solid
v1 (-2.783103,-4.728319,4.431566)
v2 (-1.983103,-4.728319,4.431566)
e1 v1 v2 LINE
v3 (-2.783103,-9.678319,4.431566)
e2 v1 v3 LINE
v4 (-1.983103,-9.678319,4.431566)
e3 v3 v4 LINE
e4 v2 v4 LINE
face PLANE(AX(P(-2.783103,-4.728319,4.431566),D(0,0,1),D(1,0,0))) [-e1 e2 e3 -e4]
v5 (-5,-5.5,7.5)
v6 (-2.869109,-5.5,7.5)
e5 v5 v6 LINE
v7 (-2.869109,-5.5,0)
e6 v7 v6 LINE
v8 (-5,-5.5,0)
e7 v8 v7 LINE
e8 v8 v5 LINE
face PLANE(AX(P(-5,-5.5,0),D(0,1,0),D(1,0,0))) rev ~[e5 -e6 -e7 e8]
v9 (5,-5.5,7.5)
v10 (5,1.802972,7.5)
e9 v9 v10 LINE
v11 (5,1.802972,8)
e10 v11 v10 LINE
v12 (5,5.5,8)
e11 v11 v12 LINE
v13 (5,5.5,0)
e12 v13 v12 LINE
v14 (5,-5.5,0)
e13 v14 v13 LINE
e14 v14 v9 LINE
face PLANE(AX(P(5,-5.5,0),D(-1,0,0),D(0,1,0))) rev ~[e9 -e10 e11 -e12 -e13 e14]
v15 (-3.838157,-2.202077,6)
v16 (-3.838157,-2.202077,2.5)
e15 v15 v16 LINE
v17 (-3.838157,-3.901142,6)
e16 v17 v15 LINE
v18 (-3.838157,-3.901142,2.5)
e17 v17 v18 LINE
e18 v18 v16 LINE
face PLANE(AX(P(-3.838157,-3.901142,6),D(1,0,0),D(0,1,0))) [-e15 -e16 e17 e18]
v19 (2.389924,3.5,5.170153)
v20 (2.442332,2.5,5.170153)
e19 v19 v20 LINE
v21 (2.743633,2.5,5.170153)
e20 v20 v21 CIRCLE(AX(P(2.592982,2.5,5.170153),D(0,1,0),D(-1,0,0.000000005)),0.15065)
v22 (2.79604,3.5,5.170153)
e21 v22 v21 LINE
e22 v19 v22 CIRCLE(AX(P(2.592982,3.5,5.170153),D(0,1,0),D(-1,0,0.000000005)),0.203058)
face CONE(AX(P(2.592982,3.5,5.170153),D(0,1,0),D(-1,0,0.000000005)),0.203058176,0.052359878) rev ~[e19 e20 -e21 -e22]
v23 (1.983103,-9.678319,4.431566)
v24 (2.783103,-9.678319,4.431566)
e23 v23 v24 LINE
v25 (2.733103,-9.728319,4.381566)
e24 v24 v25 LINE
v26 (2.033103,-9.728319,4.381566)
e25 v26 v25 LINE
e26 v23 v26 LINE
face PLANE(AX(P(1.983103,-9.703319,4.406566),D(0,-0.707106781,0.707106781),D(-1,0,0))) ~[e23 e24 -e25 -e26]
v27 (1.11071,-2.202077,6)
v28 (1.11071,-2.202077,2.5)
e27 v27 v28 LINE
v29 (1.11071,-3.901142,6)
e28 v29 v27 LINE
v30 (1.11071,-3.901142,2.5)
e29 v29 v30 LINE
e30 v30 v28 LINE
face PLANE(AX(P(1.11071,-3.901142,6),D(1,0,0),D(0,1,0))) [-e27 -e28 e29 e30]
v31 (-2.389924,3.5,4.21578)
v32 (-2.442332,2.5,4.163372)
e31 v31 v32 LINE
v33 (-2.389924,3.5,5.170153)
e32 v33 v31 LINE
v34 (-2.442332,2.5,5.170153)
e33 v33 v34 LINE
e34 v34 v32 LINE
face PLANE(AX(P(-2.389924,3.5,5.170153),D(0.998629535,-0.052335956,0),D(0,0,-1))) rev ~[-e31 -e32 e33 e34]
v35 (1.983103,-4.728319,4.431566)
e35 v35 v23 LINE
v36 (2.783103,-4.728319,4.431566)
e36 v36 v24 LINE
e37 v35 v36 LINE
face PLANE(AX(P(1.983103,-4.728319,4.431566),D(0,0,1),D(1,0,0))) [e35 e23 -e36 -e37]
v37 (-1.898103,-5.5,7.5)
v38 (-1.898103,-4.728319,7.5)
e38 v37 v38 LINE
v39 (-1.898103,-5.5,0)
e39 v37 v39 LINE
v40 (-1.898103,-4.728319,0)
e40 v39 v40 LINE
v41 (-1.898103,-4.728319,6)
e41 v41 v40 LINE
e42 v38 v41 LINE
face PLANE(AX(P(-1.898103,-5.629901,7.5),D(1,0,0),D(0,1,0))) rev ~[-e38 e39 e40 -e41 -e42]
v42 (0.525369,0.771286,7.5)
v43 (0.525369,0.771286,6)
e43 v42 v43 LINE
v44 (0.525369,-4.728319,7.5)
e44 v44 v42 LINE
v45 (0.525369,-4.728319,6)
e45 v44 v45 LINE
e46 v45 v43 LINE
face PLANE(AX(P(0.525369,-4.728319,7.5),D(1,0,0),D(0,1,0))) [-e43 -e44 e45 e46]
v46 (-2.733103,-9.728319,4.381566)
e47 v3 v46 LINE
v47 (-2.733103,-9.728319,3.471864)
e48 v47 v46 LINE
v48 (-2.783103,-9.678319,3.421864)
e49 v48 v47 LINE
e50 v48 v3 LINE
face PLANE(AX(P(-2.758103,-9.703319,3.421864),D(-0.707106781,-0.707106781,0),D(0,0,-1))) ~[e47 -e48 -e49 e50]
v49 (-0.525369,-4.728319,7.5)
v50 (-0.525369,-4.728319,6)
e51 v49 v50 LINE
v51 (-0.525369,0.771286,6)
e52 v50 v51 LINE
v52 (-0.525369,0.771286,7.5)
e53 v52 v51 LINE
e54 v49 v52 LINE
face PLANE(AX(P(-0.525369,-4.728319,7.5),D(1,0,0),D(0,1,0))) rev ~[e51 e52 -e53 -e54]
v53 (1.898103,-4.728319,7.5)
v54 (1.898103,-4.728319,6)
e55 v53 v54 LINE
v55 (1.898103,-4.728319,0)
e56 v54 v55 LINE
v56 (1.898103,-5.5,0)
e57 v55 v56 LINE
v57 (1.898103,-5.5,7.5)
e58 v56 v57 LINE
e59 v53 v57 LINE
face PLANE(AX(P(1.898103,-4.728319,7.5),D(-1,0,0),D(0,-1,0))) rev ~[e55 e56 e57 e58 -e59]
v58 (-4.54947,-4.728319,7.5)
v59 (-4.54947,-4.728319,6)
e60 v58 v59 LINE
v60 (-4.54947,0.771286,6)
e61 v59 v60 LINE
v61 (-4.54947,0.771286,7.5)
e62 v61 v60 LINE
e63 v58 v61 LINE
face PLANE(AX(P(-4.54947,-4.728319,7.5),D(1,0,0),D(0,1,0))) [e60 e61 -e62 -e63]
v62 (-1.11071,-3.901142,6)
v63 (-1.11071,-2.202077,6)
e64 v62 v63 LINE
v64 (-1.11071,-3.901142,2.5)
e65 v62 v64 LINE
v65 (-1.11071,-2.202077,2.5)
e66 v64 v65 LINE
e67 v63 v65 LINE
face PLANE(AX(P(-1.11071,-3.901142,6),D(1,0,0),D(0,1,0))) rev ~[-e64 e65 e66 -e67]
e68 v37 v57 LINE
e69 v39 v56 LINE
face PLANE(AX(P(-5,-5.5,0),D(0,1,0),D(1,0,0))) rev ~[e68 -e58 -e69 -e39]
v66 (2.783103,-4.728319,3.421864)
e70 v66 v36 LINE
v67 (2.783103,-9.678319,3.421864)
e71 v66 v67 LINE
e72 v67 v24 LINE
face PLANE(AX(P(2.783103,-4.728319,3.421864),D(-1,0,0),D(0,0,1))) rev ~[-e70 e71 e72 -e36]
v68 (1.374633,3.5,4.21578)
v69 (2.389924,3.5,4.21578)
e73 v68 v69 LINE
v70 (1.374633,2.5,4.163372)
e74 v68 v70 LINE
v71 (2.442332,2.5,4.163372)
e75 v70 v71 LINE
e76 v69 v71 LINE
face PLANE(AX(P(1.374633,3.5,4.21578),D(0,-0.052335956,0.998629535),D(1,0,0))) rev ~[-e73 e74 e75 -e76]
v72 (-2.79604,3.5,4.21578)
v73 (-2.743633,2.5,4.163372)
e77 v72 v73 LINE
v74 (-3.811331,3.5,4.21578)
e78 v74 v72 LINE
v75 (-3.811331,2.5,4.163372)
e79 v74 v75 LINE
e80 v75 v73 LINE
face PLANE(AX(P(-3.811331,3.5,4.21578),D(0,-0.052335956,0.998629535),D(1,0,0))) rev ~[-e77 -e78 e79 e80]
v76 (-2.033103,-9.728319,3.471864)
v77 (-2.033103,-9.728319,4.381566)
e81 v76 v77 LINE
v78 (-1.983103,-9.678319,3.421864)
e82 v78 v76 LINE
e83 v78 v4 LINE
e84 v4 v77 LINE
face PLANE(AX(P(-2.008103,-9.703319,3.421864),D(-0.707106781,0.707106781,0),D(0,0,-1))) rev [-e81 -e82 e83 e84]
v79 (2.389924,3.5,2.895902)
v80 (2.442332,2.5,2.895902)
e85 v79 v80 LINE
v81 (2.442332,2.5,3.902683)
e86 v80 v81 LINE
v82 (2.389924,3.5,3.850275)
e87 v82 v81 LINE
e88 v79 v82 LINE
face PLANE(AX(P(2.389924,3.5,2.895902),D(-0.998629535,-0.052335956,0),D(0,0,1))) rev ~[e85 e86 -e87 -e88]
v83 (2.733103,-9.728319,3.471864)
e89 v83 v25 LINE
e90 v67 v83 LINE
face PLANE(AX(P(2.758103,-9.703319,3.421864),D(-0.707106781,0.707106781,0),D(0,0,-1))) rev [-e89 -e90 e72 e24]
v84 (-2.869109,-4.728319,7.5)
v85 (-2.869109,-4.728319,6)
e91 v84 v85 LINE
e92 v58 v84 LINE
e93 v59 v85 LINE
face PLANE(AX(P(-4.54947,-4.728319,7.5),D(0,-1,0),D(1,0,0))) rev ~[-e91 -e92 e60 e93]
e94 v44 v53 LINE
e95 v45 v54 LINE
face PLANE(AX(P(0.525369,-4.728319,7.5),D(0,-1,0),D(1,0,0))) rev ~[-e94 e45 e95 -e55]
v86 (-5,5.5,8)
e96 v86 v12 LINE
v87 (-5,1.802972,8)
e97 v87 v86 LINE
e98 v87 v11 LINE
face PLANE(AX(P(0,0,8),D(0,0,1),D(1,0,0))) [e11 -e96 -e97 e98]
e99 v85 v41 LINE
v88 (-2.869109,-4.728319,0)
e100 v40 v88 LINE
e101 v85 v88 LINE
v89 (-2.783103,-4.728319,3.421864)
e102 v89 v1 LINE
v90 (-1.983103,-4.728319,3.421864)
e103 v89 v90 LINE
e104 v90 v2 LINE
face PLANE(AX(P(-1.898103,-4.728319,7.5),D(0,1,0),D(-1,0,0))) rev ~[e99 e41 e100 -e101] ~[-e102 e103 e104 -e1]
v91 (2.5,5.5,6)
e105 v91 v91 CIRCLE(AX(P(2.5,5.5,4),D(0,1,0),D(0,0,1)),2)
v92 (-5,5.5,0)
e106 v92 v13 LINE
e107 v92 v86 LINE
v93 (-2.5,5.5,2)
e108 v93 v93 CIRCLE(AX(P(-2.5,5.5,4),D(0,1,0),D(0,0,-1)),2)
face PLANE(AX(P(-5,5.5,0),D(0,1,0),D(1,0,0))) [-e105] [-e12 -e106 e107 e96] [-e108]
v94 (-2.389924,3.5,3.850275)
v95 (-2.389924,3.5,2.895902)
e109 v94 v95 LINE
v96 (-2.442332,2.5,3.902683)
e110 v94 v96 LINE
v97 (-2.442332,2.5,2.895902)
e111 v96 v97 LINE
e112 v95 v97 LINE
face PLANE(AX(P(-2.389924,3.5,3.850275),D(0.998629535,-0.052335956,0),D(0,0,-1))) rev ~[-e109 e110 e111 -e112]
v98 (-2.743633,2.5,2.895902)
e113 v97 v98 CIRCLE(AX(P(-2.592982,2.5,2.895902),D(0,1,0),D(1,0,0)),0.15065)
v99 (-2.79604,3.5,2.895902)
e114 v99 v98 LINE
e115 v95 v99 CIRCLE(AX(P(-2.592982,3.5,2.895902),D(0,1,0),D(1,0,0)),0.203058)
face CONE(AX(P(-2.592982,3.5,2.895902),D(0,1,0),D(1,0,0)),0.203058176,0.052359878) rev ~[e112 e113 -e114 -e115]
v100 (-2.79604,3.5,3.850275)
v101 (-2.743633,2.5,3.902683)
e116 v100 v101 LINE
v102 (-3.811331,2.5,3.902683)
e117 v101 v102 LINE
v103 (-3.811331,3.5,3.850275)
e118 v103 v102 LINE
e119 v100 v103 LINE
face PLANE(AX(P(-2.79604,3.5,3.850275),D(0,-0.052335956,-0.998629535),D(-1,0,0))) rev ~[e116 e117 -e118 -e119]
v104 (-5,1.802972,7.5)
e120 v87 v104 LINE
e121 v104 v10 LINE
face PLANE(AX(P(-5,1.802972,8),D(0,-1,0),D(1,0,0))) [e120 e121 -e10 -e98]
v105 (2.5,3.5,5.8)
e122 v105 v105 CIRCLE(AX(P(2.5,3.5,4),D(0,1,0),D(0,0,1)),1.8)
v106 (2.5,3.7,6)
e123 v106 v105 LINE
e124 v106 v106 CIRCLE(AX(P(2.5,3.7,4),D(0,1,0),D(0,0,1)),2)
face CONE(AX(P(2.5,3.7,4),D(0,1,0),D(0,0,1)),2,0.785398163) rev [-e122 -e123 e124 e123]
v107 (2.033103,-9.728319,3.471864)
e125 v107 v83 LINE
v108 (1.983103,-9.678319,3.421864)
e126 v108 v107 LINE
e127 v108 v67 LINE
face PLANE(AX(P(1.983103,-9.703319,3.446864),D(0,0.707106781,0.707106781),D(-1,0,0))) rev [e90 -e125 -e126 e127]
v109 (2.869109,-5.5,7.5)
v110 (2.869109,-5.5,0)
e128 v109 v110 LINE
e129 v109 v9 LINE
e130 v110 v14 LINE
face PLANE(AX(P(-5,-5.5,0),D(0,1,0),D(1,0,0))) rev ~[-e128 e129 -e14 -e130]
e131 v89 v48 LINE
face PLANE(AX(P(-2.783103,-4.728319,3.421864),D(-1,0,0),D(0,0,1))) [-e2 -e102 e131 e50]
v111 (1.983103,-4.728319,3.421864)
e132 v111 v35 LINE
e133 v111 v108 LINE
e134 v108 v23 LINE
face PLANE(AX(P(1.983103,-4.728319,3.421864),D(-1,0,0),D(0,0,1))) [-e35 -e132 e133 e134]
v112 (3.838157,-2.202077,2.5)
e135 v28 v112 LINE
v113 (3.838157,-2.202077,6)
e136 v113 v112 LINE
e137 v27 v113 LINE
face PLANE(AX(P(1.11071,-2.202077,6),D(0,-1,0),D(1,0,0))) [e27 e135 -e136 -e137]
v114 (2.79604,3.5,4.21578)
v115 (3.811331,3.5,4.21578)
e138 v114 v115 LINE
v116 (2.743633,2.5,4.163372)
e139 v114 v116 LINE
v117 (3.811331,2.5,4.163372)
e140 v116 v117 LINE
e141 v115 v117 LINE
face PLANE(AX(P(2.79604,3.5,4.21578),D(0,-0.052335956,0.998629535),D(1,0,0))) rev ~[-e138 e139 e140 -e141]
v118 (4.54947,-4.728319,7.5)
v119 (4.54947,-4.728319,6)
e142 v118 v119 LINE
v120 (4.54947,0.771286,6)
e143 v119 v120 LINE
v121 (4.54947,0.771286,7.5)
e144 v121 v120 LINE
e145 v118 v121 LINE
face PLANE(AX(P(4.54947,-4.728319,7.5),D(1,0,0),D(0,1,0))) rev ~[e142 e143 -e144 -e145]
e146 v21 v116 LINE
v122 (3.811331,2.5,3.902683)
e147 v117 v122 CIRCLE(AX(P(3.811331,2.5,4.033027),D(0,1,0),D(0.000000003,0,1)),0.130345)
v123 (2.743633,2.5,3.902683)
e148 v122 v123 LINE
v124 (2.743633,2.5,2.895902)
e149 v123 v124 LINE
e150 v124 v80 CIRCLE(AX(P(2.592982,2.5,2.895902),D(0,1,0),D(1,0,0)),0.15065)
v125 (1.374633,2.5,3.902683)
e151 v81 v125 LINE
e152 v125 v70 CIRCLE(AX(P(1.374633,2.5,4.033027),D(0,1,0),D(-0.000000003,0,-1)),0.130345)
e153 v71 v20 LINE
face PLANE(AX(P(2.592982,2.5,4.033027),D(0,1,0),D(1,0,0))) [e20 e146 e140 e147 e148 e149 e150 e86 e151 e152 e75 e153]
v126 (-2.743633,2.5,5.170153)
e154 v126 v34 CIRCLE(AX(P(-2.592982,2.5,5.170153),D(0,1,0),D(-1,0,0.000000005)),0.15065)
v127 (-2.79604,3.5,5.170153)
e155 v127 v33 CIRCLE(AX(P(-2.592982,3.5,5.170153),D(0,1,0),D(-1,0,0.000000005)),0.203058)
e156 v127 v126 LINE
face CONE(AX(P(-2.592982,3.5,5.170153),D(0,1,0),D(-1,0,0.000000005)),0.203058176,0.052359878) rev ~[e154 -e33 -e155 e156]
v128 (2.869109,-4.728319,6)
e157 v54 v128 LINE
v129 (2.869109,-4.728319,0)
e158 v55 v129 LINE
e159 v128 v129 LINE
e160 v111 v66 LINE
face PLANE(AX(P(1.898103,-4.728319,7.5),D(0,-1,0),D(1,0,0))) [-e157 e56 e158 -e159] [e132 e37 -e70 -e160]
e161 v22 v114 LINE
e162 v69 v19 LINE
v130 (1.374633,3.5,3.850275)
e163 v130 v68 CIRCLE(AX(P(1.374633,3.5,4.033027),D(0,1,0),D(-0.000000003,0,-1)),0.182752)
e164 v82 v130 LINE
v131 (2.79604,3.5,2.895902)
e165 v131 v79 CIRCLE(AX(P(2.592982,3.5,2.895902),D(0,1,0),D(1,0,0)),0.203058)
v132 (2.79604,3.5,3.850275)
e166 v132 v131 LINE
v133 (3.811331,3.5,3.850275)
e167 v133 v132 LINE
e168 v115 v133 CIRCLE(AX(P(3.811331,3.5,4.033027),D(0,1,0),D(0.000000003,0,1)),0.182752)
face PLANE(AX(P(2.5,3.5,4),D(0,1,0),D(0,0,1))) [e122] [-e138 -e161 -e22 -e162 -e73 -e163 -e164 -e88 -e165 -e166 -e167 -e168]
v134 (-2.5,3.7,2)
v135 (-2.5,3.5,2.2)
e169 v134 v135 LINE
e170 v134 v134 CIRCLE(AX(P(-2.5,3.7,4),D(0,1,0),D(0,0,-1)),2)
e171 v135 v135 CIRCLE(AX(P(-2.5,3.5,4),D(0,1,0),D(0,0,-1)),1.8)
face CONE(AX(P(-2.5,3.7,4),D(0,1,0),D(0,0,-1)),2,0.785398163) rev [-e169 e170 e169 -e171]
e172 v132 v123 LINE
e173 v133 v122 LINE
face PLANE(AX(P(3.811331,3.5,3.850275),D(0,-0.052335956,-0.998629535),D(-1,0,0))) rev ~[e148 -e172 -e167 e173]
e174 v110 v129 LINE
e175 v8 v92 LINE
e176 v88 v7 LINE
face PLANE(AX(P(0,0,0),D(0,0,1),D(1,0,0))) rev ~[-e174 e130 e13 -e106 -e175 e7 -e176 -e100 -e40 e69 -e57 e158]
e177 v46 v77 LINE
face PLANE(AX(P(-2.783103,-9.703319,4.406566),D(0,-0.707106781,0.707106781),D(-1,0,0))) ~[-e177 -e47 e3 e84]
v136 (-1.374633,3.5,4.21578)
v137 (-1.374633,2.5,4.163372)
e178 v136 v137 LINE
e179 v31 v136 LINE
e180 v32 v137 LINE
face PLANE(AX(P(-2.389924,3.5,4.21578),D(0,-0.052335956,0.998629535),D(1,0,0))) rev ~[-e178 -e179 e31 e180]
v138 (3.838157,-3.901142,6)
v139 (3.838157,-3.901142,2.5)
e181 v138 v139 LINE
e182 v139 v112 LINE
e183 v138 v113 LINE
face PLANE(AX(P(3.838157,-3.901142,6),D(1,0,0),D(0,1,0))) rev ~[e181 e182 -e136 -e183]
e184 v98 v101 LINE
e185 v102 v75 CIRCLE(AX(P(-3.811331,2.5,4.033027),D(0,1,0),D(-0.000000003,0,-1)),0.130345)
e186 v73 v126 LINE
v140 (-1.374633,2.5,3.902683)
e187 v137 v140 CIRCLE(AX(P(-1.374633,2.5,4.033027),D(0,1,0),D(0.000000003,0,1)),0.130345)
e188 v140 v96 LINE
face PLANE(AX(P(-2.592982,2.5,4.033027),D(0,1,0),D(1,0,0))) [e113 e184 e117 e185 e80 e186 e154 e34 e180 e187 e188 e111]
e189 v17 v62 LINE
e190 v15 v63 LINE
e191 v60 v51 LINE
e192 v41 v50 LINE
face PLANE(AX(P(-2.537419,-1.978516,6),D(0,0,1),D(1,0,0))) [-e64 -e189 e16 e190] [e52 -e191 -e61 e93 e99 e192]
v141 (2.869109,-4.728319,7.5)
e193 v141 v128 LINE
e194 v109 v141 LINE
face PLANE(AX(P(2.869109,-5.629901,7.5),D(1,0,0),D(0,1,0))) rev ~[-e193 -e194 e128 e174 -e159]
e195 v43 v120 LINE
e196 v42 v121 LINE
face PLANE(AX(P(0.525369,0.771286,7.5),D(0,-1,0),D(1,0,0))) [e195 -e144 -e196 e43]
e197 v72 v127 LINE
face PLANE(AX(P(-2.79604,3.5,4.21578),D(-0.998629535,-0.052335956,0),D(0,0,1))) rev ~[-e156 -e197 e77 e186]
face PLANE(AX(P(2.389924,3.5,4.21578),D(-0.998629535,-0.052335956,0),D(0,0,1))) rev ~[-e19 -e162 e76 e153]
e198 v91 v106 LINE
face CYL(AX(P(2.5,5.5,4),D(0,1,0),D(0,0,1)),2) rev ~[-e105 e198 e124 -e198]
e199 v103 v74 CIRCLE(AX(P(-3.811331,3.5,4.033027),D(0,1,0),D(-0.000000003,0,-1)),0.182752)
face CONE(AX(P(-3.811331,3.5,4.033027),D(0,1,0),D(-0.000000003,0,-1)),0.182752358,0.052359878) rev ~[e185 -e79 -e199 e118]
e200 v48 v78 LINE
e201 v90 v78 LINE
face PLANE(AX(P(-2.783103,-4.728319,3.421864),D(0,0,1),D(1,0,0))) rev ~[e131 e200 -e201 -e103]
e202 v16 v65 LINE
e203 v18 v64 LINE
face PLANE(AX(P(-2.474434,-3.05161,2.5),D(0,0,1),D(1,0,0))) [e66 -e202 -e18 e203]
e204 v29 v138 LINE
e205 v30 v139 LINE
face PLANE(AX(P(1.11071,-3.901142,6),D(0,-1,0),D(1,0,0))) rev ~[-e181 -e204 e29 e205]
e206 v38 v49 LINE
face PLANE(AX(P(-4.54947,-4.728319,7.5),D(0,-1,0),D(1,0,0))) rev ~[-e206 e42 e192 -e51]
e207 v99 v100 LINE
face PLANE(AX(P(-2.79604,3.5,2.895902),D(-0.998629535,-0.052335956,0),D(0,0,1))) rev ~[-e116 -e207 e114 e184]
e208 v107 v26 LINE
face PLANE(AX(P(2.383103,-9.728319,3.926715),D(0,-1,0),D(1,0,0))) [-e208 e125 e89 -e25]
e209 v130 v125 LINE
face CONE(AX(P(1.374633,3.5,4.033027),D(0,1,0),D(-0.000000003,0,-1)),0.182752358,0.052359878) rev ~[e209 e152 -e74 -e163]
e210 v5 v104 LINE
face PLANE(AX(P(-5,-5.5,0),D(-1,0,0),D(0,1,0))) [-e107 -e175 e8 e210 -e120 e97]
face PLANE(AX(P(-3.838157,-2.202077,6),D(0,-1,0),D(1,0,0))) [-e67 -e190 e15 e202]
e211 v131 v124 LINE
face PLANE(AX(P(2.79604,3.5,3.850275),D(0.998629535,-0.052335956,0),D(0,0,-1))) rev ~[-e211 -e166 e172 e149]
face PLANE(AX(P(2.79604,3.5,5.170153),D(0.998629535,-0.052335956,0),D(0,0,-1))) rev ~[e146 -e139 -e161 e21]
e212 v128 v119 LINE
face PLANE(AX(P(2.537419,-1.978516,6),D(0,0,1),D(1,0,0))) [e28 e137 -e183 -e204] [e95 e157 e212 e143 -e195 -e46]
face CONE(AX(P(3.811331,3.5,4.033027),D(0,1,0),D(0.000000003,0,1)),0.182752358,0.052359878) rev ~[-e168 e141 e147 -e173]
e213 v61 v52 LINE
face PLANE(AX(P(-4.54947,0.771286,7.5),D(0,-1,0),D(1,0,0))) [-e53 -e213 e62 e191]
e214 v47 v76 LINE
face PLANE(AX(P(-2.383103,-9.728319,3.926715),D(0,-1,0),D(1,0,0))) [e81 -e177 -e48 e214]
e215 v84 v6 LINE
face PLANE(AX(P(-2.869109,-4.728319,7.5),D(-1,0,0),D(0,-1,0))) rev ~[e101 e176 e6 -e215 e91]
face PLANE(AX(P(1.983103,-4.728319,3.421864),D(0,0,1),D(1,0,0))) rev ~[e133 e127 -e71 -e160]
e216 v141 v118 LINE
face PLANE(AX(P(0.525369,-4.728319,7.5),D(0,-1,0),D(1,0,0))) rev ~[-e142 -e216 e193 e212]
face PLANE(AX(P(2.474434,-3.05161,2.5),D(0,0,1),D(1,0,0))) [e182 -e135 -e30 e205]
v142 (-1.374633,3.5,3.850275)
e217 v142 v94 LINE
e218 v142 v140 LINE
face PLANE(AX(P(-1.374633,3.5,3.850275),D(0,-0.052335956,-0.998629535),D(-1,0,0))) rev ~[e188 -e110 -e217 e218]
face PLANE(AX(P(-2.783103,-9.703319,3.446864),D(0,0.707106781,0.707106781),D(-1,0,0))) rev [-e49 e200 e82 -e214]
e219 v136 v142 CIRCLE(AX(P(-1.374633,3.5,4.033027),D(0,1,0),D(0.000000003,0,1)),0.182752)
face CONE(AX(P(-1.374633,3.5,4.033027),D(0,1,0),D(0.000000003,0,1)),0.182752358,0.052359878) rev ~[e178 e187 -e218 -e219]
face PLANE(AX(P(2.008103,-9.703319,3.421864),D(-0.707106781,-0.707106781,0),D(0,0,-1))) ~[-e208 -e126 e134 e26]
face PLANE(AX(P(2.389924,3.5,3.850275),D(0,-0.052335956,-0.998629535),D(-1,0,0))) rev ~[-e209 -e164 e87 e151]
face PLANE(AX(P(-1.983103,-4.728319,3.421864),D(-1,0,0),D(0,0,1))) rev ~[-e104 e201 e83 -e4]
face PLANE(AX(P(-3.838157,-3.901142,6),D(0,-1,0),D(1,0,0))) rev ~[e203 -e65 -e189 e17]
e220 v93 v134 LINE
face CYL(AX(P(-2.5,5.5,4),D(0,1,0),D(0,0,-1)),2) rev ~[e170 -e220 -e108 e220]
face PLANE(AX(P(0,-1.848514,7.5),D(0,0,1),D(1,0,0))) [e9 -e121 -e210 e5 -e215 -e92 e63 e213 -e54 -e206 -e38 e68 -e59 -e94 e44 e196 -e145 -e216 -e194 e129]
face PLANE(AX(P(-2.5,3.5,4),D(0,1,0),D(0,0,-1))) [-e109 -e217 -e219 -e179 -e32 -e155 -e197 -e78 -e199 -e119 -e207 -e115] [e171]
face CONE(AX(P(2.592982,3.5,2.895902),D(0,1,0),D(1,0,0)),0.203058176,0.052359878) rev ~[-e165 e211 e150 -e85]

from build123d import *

# Parameters (mm, degrees)
CROQUIS1_W                      = 10
CROQUIS1_H                      = 11
SALIENTE_EXTRUIR1_DEPTH         = 8
CROQUIS2_R                      = 2
CORTAR_EXTRUIR1_DEPTH           = 2
CROQUIS3_W                      = 10
CROQUIS3_H                      = 7.302971928
CORTAR_EXTRUIR2_DEPTH           = 0.5
CROQUIS4_W                      = 4.024100916
CROQUIS4_H                      = 5.499604586
CORTAR_EXTRUIR3_DEPTH           = 1.5
CROQUIS5_W                      = 2.727446176
CROQUIS5_H                      = 1.699064831
CORTAR_EXTRUIR4_DEPTH           = 3.5
CORTAR_EXTRUIR5_DEPTH           = 1
CORTAR_EXTRUIR5_DRAFT           = -3
CORTAR_EXTRUIR5_PROFILE_2_DEPTH = 1
CORTAR_EXTRUIR5_PROFILE_2_DRAFT = -3
CHAFL_N1_SIZE                   = 0.2
CORTAR_EXTRUIR6_DEPTH           = 11.559356041
CROQUIS8_W                      = 0.8
CROQUIS8_H                      = 1.009702069
SALIENTE_EXTRUIR2_DEPTH         = 5
CHAFL_N2_SIZE                   = 0.05


with BuildPart() as part:
    # Croquis1 → Saliente-Extruir1 (new body)
    with BuildSketch(Plane.XY):
        Rectangle(CROQUIS1_W, CROQUIS1_H)
    extrude(amount=SALIENTE_EXTRUIR1_DEPTH)

    # Croquis2 → Cortar-Extruir1 (cut)
    with BuildSketch(Plane(origin=(0, 5.5, 0), x_dir=(1, 0, 0), z_dir=(0, 1, 0))):
        with Locations(Location((2.5, -4, 0), (0, 0, 270))):
            Circle(CROQUIS2_R)
        with Locations(Location((-2.5, -4, 0), (0, 0, 90))):
            Circle(CROQUIS2_R)
    extrude(amount=-CORTAR_EXTRUIR1_DEPTH, mode=Mode.SUBTRACT)

    # Croquis3 → Cortar-Extruir2 (cut)
    with BuildSketch(Plane.XY.offset(8)):
        with Locations((0, -1.848514036)):
            Rectangle(CROQUIS3_W, CROQUIS3_H)
    extrude(amount=-CORTAR_EXTRUIR2_DEPTH, mode=Mode.SUBTRACT)

    # Croquis4 → Cortar-Extruir3 (cut)
    with BuildSketch(Plane.XY.offset(7.5)):
        with Locations((-2.537419189, -1.978516284)):
            Rectangle(CROQUIS4_W, CROQUIS4_H)
        with Locations((2.537419189, -1.978516284)):
            Rectangle(CROQUIS4_W, CROQUIS4_H)
    extrude(amount=-CORTAR_EXTRUIR3_DEPTH, mode=Mode.SUBTRACT)

    # Croquis5 → Cortar-Extruir4 (cut)
    with BuildSketch(Plane.XY.offset(6)):
        with Locations((-2.474433562, -3.051609862)):
            Rectangle(CROQUIS5_W, CROQUIS5_H)
        with Locations((2.474433562, -3.051609862)):
            Rectangle(CROQUIS5_W, CROQUIS5_H)
    extrude(amount=-CORTAR_EXTRUIR4_DEPTH, mode=Mode.SUBTRACT)


with BuildPart() as cortar_extruir5_tool:
    # Croquis6 → Cortar-Extruir5 (with draft: the straight prism first)
    with BuildSketch(Plane(origin=(0, 3.5, 0), x_dir=(1, 0, 0), z_dir=(0, 1, 0))):
        with BuildLine():
            Line((-2.796040432, -4.215779763), (-2.796040432, -5.17015319))
            ThreePointArc((-2.796040432, -5.17015319), (-2.592982256, -5.373211365), (-2.38992408, -5.17015319))
            Line((-2.38992408, -5.17015319), (-2.38992408, -4.215779763))
            Line((-2.38992408, -4.215779763), (-1.374633201, -4.215779763))
            ThreePointArc((-1.374633201, -4.215779763), (-1.191880843, -4.033027405), (-1.374633201, -3.850275046))
            Line((-1.374633201, -3.850275046), (-2.38992408, -3.850275046))
            Line((-2.38992408, -3.850275046), (-2.38992408, -2.89590162))
            ThreePointArc((-2.38992408, -2.89590162), (-2.592982256, -2.692843444), (-2.796040432, -2.89590162))
            Line((-2.796040432, -2.89590162), (-2.796040432, -3.850275046))
            Line((-2.796040432, -3.850275046), (-3.811331312, -3.850275046))
            ThreePointArc((-3.811331312, -3.850275046), (-3.99408367, -4.033027405), (-3.811331312, -4.215779763))
            Line((-3.811331312, -4.215779763), (-2.796040432, -4.215779763))
        make_face()
    extrude(amount=-CORTAR_EXTRUIR5_DEPTH)
    # Cortar-Extruir5: the draft: its side faces are tilted about the plane it starts from
    cortar_extruir5_sides = [cortar_extruir5_tool.faces().sort_by_distance(p)[0] for p in [
        (-2.796040432, 3, 3.373088333),
        (-3.303685872, 3, 3.850275046),
        (-3.99408367, 3, 4.033027405),
        (-3.303685872, 3, 4.215779763),
        (-2.796040432, 3, 4.692966476),
        (-2.592982256, 3, 5.373211365),
        (-2.38992408, 3, 4.692966476),
        (-1.882278641, 3, 4.215779763),
        (-1.191880843, 3, 4.033027405),
        (-1.882278641, 3, 3.850275046),
        (-2.38992408, 3, 3.373088333),
        (-2.592982256, 3, 2.692843444),
    ]]
    draft(cortar_extruir5_sides, Plane(origin=(0, 3.5, 0), x_dir=(1, 0, 0), z_dir=(0, 1, 0)), CORTAR_EXTRUIR5_DRAFT)


with BuildPart() as part_1:
    add(part.part)

    # Cortar-Extruir5: cut by cortar_extruir5_tool
    add(cortar_extruir5_tool.part, mode=Mode.SUBTRACT)


with BuildPart() as cortar_extruir5_profile_2_tool:
    # Croquis6 → Cortar-Extruir5 profile 2 (with draft: the straight prism first)
    with BuildSketch(Plane(origin=(0, 3.5, 0), x_dir=(1, 0, 0), z_dir=(0, 1, 0))):
        with BuildLine():
            Line((2.38992408, -4.215779763), (2.38992408, -5.17015319))
            ThreePointArc((2.38992408, -5.17015319), (2.592982256, -5.373211365), (2.796040432, -5.17015319))
            Line((2.796040432, -5.17015319), (2.796040432, -4.215779763))
            Line((2.796040432, -4.215779763), (3.811331312, -4.215779763))
            ThreePointArc((3.811331312, -4.215779763), (3.99408367, -4.033027405), (3.811331312, -3.850275046))
            Line((3.811331312, -3.850275046), (2.796040432, -3.850275046))
            Line((2.796040432, -3.850275046), (2.796040432, -2.89590162))
            ThreePointArc((2.796040432, -2.89590162), (2.592982256, -2.692843444), (2.38992408, -2.89590162))
            Line((2.38992408, -2.89590162), (2.38992408, -3.850275046))
            Line((2.38992408, -3.850275046), (1.374633201, -3.850275046))
            ThreePointArc((1.374633201, -3.850275046), (1.191880843, -4.033027405), (1.374633201, -4.215779763))
            Line((1.374633201, -4.215779763), (2.38992408, -4.215779763))
        make_face()
    extrude(amount=-CORTAR_EXTRUIR5_PROFILE_2_DEPTH)
    # Cortar-Extruir5 profile 2: the draft: its side faces are tilted about the plane it starts from
    cortar_extruir5_profile_2_sides = [cortar_extruir5_profile_2_tool.faces().sort_by_distance(p)[0] for p in [
        (2.38992408, 3, 4.692966476),
        (2.592982256, 3, 5.373211365),
        (2.796040432, 3, 4.692966476),
        (3.303685872, 3, 4.215779763),
        (3.99408367, 3, 4.033027405),
        (3.303685872, 3, 3.850275046),
        (2.796040432, 3, 3.373088333),
        (2.592982256, 3, 2.692843444),
        (2.38992408, 3, 3.373088333),
        (1.882278641, 3, 3.850275046),
        (1.191880843, 3, 4.033027405),
        (1.882278641, 3, 4.215779763),
    ]]
    draft(cortar_extruir5_profile_2_sides, Plane(origin=(0, 3.5, 0), x_dir=(1, 0, 0), z_dir=(0, 1, 0)), CORTAR_EXTRUIR5_PROFILE_2_DRAFT)


with BuildPart() as part_2:
    add(part_1.part)

    # Cortar-Extruir5 profile 2: cut by cortar_extruir5_profile_2_tool
    add(cortar_extruir5_profile_2_tool.part, mode=Mode.SUBTRACT)

    # Chaflán1
    chafl_n1_edges = [part_2.edges().sort_by_distance(p)[0] for p in [
        (2.5, 3.5, 2),
        (-2.5, 3.5, 6),
    ]]
    chamfer(chafl_n1_edges, length=CHAFL_N1_SIZE)

    # Croquis7 → Cortar-Extruir6 (cut, through all)
    with BuildSketch(Plane.XY.offset(7.5)):
        Polygon((-2.869109202, -5.079330001), (-2.869109202, -5.629900541), (-1.898102979, -5.629900541), (-1.898102979, -5.079330001), (-1.898102979, -4.728318577), (-2.869109202, -4.728318577), align=None)
        Polygon((2.869109202, -4.728318577), (2.869109202, -5.079330001), (2.869109202, -5.629900541), (1.898102979, -5.629900541), (1.898102979, -5.079330001), (1.898102979, -4.728318577), align=None)
    extrude(amount=-CORTAR_EXTRUIR6_DEPTH, mode=Mode.SUBTRACT)

    # Croquis8 → Saliente-Extruir2 (add)
    with BuildSketch(Plane.XZ.offset(4.728318577)):
        with Locations((-2.383102979, 3.926715173)):
            Rectangle(CROQUIS8_W, CROQUIS8_H)
        with Locations((2.383102979, 3.926715173)):
            Rectangle(CROQUIS8_W, CROQUIS8_H)
    extrude(amount=SALIENTE_EXTRUIR2_DEPTH)

    # Chaflán2
    chafl_n2_edges = [part_2.edges().sort_by_distance(p)[0] for p in [
        (-1.983102979, -9.728318577, 3.926715172),
        (-2.383102979, -9.728318577, 4.431566207),
        (-2.783102979, -9.728318577, 3.926715172),
        (-2.383102979, -9.728318577, 3.421864138),
        (2.783102979, -9.728318577, 3.926715172),
        (2.383102979, -9.728318577, 4.431566207),
        (1.983102979, -9.728318577, 3.926715172),
        (2.383102979, -9.728318577, 3.421864138),
    ]]
    chamfer(chafl_n2_edges, length=CHAFL_N2_SIZE)


solid = part_2.part
